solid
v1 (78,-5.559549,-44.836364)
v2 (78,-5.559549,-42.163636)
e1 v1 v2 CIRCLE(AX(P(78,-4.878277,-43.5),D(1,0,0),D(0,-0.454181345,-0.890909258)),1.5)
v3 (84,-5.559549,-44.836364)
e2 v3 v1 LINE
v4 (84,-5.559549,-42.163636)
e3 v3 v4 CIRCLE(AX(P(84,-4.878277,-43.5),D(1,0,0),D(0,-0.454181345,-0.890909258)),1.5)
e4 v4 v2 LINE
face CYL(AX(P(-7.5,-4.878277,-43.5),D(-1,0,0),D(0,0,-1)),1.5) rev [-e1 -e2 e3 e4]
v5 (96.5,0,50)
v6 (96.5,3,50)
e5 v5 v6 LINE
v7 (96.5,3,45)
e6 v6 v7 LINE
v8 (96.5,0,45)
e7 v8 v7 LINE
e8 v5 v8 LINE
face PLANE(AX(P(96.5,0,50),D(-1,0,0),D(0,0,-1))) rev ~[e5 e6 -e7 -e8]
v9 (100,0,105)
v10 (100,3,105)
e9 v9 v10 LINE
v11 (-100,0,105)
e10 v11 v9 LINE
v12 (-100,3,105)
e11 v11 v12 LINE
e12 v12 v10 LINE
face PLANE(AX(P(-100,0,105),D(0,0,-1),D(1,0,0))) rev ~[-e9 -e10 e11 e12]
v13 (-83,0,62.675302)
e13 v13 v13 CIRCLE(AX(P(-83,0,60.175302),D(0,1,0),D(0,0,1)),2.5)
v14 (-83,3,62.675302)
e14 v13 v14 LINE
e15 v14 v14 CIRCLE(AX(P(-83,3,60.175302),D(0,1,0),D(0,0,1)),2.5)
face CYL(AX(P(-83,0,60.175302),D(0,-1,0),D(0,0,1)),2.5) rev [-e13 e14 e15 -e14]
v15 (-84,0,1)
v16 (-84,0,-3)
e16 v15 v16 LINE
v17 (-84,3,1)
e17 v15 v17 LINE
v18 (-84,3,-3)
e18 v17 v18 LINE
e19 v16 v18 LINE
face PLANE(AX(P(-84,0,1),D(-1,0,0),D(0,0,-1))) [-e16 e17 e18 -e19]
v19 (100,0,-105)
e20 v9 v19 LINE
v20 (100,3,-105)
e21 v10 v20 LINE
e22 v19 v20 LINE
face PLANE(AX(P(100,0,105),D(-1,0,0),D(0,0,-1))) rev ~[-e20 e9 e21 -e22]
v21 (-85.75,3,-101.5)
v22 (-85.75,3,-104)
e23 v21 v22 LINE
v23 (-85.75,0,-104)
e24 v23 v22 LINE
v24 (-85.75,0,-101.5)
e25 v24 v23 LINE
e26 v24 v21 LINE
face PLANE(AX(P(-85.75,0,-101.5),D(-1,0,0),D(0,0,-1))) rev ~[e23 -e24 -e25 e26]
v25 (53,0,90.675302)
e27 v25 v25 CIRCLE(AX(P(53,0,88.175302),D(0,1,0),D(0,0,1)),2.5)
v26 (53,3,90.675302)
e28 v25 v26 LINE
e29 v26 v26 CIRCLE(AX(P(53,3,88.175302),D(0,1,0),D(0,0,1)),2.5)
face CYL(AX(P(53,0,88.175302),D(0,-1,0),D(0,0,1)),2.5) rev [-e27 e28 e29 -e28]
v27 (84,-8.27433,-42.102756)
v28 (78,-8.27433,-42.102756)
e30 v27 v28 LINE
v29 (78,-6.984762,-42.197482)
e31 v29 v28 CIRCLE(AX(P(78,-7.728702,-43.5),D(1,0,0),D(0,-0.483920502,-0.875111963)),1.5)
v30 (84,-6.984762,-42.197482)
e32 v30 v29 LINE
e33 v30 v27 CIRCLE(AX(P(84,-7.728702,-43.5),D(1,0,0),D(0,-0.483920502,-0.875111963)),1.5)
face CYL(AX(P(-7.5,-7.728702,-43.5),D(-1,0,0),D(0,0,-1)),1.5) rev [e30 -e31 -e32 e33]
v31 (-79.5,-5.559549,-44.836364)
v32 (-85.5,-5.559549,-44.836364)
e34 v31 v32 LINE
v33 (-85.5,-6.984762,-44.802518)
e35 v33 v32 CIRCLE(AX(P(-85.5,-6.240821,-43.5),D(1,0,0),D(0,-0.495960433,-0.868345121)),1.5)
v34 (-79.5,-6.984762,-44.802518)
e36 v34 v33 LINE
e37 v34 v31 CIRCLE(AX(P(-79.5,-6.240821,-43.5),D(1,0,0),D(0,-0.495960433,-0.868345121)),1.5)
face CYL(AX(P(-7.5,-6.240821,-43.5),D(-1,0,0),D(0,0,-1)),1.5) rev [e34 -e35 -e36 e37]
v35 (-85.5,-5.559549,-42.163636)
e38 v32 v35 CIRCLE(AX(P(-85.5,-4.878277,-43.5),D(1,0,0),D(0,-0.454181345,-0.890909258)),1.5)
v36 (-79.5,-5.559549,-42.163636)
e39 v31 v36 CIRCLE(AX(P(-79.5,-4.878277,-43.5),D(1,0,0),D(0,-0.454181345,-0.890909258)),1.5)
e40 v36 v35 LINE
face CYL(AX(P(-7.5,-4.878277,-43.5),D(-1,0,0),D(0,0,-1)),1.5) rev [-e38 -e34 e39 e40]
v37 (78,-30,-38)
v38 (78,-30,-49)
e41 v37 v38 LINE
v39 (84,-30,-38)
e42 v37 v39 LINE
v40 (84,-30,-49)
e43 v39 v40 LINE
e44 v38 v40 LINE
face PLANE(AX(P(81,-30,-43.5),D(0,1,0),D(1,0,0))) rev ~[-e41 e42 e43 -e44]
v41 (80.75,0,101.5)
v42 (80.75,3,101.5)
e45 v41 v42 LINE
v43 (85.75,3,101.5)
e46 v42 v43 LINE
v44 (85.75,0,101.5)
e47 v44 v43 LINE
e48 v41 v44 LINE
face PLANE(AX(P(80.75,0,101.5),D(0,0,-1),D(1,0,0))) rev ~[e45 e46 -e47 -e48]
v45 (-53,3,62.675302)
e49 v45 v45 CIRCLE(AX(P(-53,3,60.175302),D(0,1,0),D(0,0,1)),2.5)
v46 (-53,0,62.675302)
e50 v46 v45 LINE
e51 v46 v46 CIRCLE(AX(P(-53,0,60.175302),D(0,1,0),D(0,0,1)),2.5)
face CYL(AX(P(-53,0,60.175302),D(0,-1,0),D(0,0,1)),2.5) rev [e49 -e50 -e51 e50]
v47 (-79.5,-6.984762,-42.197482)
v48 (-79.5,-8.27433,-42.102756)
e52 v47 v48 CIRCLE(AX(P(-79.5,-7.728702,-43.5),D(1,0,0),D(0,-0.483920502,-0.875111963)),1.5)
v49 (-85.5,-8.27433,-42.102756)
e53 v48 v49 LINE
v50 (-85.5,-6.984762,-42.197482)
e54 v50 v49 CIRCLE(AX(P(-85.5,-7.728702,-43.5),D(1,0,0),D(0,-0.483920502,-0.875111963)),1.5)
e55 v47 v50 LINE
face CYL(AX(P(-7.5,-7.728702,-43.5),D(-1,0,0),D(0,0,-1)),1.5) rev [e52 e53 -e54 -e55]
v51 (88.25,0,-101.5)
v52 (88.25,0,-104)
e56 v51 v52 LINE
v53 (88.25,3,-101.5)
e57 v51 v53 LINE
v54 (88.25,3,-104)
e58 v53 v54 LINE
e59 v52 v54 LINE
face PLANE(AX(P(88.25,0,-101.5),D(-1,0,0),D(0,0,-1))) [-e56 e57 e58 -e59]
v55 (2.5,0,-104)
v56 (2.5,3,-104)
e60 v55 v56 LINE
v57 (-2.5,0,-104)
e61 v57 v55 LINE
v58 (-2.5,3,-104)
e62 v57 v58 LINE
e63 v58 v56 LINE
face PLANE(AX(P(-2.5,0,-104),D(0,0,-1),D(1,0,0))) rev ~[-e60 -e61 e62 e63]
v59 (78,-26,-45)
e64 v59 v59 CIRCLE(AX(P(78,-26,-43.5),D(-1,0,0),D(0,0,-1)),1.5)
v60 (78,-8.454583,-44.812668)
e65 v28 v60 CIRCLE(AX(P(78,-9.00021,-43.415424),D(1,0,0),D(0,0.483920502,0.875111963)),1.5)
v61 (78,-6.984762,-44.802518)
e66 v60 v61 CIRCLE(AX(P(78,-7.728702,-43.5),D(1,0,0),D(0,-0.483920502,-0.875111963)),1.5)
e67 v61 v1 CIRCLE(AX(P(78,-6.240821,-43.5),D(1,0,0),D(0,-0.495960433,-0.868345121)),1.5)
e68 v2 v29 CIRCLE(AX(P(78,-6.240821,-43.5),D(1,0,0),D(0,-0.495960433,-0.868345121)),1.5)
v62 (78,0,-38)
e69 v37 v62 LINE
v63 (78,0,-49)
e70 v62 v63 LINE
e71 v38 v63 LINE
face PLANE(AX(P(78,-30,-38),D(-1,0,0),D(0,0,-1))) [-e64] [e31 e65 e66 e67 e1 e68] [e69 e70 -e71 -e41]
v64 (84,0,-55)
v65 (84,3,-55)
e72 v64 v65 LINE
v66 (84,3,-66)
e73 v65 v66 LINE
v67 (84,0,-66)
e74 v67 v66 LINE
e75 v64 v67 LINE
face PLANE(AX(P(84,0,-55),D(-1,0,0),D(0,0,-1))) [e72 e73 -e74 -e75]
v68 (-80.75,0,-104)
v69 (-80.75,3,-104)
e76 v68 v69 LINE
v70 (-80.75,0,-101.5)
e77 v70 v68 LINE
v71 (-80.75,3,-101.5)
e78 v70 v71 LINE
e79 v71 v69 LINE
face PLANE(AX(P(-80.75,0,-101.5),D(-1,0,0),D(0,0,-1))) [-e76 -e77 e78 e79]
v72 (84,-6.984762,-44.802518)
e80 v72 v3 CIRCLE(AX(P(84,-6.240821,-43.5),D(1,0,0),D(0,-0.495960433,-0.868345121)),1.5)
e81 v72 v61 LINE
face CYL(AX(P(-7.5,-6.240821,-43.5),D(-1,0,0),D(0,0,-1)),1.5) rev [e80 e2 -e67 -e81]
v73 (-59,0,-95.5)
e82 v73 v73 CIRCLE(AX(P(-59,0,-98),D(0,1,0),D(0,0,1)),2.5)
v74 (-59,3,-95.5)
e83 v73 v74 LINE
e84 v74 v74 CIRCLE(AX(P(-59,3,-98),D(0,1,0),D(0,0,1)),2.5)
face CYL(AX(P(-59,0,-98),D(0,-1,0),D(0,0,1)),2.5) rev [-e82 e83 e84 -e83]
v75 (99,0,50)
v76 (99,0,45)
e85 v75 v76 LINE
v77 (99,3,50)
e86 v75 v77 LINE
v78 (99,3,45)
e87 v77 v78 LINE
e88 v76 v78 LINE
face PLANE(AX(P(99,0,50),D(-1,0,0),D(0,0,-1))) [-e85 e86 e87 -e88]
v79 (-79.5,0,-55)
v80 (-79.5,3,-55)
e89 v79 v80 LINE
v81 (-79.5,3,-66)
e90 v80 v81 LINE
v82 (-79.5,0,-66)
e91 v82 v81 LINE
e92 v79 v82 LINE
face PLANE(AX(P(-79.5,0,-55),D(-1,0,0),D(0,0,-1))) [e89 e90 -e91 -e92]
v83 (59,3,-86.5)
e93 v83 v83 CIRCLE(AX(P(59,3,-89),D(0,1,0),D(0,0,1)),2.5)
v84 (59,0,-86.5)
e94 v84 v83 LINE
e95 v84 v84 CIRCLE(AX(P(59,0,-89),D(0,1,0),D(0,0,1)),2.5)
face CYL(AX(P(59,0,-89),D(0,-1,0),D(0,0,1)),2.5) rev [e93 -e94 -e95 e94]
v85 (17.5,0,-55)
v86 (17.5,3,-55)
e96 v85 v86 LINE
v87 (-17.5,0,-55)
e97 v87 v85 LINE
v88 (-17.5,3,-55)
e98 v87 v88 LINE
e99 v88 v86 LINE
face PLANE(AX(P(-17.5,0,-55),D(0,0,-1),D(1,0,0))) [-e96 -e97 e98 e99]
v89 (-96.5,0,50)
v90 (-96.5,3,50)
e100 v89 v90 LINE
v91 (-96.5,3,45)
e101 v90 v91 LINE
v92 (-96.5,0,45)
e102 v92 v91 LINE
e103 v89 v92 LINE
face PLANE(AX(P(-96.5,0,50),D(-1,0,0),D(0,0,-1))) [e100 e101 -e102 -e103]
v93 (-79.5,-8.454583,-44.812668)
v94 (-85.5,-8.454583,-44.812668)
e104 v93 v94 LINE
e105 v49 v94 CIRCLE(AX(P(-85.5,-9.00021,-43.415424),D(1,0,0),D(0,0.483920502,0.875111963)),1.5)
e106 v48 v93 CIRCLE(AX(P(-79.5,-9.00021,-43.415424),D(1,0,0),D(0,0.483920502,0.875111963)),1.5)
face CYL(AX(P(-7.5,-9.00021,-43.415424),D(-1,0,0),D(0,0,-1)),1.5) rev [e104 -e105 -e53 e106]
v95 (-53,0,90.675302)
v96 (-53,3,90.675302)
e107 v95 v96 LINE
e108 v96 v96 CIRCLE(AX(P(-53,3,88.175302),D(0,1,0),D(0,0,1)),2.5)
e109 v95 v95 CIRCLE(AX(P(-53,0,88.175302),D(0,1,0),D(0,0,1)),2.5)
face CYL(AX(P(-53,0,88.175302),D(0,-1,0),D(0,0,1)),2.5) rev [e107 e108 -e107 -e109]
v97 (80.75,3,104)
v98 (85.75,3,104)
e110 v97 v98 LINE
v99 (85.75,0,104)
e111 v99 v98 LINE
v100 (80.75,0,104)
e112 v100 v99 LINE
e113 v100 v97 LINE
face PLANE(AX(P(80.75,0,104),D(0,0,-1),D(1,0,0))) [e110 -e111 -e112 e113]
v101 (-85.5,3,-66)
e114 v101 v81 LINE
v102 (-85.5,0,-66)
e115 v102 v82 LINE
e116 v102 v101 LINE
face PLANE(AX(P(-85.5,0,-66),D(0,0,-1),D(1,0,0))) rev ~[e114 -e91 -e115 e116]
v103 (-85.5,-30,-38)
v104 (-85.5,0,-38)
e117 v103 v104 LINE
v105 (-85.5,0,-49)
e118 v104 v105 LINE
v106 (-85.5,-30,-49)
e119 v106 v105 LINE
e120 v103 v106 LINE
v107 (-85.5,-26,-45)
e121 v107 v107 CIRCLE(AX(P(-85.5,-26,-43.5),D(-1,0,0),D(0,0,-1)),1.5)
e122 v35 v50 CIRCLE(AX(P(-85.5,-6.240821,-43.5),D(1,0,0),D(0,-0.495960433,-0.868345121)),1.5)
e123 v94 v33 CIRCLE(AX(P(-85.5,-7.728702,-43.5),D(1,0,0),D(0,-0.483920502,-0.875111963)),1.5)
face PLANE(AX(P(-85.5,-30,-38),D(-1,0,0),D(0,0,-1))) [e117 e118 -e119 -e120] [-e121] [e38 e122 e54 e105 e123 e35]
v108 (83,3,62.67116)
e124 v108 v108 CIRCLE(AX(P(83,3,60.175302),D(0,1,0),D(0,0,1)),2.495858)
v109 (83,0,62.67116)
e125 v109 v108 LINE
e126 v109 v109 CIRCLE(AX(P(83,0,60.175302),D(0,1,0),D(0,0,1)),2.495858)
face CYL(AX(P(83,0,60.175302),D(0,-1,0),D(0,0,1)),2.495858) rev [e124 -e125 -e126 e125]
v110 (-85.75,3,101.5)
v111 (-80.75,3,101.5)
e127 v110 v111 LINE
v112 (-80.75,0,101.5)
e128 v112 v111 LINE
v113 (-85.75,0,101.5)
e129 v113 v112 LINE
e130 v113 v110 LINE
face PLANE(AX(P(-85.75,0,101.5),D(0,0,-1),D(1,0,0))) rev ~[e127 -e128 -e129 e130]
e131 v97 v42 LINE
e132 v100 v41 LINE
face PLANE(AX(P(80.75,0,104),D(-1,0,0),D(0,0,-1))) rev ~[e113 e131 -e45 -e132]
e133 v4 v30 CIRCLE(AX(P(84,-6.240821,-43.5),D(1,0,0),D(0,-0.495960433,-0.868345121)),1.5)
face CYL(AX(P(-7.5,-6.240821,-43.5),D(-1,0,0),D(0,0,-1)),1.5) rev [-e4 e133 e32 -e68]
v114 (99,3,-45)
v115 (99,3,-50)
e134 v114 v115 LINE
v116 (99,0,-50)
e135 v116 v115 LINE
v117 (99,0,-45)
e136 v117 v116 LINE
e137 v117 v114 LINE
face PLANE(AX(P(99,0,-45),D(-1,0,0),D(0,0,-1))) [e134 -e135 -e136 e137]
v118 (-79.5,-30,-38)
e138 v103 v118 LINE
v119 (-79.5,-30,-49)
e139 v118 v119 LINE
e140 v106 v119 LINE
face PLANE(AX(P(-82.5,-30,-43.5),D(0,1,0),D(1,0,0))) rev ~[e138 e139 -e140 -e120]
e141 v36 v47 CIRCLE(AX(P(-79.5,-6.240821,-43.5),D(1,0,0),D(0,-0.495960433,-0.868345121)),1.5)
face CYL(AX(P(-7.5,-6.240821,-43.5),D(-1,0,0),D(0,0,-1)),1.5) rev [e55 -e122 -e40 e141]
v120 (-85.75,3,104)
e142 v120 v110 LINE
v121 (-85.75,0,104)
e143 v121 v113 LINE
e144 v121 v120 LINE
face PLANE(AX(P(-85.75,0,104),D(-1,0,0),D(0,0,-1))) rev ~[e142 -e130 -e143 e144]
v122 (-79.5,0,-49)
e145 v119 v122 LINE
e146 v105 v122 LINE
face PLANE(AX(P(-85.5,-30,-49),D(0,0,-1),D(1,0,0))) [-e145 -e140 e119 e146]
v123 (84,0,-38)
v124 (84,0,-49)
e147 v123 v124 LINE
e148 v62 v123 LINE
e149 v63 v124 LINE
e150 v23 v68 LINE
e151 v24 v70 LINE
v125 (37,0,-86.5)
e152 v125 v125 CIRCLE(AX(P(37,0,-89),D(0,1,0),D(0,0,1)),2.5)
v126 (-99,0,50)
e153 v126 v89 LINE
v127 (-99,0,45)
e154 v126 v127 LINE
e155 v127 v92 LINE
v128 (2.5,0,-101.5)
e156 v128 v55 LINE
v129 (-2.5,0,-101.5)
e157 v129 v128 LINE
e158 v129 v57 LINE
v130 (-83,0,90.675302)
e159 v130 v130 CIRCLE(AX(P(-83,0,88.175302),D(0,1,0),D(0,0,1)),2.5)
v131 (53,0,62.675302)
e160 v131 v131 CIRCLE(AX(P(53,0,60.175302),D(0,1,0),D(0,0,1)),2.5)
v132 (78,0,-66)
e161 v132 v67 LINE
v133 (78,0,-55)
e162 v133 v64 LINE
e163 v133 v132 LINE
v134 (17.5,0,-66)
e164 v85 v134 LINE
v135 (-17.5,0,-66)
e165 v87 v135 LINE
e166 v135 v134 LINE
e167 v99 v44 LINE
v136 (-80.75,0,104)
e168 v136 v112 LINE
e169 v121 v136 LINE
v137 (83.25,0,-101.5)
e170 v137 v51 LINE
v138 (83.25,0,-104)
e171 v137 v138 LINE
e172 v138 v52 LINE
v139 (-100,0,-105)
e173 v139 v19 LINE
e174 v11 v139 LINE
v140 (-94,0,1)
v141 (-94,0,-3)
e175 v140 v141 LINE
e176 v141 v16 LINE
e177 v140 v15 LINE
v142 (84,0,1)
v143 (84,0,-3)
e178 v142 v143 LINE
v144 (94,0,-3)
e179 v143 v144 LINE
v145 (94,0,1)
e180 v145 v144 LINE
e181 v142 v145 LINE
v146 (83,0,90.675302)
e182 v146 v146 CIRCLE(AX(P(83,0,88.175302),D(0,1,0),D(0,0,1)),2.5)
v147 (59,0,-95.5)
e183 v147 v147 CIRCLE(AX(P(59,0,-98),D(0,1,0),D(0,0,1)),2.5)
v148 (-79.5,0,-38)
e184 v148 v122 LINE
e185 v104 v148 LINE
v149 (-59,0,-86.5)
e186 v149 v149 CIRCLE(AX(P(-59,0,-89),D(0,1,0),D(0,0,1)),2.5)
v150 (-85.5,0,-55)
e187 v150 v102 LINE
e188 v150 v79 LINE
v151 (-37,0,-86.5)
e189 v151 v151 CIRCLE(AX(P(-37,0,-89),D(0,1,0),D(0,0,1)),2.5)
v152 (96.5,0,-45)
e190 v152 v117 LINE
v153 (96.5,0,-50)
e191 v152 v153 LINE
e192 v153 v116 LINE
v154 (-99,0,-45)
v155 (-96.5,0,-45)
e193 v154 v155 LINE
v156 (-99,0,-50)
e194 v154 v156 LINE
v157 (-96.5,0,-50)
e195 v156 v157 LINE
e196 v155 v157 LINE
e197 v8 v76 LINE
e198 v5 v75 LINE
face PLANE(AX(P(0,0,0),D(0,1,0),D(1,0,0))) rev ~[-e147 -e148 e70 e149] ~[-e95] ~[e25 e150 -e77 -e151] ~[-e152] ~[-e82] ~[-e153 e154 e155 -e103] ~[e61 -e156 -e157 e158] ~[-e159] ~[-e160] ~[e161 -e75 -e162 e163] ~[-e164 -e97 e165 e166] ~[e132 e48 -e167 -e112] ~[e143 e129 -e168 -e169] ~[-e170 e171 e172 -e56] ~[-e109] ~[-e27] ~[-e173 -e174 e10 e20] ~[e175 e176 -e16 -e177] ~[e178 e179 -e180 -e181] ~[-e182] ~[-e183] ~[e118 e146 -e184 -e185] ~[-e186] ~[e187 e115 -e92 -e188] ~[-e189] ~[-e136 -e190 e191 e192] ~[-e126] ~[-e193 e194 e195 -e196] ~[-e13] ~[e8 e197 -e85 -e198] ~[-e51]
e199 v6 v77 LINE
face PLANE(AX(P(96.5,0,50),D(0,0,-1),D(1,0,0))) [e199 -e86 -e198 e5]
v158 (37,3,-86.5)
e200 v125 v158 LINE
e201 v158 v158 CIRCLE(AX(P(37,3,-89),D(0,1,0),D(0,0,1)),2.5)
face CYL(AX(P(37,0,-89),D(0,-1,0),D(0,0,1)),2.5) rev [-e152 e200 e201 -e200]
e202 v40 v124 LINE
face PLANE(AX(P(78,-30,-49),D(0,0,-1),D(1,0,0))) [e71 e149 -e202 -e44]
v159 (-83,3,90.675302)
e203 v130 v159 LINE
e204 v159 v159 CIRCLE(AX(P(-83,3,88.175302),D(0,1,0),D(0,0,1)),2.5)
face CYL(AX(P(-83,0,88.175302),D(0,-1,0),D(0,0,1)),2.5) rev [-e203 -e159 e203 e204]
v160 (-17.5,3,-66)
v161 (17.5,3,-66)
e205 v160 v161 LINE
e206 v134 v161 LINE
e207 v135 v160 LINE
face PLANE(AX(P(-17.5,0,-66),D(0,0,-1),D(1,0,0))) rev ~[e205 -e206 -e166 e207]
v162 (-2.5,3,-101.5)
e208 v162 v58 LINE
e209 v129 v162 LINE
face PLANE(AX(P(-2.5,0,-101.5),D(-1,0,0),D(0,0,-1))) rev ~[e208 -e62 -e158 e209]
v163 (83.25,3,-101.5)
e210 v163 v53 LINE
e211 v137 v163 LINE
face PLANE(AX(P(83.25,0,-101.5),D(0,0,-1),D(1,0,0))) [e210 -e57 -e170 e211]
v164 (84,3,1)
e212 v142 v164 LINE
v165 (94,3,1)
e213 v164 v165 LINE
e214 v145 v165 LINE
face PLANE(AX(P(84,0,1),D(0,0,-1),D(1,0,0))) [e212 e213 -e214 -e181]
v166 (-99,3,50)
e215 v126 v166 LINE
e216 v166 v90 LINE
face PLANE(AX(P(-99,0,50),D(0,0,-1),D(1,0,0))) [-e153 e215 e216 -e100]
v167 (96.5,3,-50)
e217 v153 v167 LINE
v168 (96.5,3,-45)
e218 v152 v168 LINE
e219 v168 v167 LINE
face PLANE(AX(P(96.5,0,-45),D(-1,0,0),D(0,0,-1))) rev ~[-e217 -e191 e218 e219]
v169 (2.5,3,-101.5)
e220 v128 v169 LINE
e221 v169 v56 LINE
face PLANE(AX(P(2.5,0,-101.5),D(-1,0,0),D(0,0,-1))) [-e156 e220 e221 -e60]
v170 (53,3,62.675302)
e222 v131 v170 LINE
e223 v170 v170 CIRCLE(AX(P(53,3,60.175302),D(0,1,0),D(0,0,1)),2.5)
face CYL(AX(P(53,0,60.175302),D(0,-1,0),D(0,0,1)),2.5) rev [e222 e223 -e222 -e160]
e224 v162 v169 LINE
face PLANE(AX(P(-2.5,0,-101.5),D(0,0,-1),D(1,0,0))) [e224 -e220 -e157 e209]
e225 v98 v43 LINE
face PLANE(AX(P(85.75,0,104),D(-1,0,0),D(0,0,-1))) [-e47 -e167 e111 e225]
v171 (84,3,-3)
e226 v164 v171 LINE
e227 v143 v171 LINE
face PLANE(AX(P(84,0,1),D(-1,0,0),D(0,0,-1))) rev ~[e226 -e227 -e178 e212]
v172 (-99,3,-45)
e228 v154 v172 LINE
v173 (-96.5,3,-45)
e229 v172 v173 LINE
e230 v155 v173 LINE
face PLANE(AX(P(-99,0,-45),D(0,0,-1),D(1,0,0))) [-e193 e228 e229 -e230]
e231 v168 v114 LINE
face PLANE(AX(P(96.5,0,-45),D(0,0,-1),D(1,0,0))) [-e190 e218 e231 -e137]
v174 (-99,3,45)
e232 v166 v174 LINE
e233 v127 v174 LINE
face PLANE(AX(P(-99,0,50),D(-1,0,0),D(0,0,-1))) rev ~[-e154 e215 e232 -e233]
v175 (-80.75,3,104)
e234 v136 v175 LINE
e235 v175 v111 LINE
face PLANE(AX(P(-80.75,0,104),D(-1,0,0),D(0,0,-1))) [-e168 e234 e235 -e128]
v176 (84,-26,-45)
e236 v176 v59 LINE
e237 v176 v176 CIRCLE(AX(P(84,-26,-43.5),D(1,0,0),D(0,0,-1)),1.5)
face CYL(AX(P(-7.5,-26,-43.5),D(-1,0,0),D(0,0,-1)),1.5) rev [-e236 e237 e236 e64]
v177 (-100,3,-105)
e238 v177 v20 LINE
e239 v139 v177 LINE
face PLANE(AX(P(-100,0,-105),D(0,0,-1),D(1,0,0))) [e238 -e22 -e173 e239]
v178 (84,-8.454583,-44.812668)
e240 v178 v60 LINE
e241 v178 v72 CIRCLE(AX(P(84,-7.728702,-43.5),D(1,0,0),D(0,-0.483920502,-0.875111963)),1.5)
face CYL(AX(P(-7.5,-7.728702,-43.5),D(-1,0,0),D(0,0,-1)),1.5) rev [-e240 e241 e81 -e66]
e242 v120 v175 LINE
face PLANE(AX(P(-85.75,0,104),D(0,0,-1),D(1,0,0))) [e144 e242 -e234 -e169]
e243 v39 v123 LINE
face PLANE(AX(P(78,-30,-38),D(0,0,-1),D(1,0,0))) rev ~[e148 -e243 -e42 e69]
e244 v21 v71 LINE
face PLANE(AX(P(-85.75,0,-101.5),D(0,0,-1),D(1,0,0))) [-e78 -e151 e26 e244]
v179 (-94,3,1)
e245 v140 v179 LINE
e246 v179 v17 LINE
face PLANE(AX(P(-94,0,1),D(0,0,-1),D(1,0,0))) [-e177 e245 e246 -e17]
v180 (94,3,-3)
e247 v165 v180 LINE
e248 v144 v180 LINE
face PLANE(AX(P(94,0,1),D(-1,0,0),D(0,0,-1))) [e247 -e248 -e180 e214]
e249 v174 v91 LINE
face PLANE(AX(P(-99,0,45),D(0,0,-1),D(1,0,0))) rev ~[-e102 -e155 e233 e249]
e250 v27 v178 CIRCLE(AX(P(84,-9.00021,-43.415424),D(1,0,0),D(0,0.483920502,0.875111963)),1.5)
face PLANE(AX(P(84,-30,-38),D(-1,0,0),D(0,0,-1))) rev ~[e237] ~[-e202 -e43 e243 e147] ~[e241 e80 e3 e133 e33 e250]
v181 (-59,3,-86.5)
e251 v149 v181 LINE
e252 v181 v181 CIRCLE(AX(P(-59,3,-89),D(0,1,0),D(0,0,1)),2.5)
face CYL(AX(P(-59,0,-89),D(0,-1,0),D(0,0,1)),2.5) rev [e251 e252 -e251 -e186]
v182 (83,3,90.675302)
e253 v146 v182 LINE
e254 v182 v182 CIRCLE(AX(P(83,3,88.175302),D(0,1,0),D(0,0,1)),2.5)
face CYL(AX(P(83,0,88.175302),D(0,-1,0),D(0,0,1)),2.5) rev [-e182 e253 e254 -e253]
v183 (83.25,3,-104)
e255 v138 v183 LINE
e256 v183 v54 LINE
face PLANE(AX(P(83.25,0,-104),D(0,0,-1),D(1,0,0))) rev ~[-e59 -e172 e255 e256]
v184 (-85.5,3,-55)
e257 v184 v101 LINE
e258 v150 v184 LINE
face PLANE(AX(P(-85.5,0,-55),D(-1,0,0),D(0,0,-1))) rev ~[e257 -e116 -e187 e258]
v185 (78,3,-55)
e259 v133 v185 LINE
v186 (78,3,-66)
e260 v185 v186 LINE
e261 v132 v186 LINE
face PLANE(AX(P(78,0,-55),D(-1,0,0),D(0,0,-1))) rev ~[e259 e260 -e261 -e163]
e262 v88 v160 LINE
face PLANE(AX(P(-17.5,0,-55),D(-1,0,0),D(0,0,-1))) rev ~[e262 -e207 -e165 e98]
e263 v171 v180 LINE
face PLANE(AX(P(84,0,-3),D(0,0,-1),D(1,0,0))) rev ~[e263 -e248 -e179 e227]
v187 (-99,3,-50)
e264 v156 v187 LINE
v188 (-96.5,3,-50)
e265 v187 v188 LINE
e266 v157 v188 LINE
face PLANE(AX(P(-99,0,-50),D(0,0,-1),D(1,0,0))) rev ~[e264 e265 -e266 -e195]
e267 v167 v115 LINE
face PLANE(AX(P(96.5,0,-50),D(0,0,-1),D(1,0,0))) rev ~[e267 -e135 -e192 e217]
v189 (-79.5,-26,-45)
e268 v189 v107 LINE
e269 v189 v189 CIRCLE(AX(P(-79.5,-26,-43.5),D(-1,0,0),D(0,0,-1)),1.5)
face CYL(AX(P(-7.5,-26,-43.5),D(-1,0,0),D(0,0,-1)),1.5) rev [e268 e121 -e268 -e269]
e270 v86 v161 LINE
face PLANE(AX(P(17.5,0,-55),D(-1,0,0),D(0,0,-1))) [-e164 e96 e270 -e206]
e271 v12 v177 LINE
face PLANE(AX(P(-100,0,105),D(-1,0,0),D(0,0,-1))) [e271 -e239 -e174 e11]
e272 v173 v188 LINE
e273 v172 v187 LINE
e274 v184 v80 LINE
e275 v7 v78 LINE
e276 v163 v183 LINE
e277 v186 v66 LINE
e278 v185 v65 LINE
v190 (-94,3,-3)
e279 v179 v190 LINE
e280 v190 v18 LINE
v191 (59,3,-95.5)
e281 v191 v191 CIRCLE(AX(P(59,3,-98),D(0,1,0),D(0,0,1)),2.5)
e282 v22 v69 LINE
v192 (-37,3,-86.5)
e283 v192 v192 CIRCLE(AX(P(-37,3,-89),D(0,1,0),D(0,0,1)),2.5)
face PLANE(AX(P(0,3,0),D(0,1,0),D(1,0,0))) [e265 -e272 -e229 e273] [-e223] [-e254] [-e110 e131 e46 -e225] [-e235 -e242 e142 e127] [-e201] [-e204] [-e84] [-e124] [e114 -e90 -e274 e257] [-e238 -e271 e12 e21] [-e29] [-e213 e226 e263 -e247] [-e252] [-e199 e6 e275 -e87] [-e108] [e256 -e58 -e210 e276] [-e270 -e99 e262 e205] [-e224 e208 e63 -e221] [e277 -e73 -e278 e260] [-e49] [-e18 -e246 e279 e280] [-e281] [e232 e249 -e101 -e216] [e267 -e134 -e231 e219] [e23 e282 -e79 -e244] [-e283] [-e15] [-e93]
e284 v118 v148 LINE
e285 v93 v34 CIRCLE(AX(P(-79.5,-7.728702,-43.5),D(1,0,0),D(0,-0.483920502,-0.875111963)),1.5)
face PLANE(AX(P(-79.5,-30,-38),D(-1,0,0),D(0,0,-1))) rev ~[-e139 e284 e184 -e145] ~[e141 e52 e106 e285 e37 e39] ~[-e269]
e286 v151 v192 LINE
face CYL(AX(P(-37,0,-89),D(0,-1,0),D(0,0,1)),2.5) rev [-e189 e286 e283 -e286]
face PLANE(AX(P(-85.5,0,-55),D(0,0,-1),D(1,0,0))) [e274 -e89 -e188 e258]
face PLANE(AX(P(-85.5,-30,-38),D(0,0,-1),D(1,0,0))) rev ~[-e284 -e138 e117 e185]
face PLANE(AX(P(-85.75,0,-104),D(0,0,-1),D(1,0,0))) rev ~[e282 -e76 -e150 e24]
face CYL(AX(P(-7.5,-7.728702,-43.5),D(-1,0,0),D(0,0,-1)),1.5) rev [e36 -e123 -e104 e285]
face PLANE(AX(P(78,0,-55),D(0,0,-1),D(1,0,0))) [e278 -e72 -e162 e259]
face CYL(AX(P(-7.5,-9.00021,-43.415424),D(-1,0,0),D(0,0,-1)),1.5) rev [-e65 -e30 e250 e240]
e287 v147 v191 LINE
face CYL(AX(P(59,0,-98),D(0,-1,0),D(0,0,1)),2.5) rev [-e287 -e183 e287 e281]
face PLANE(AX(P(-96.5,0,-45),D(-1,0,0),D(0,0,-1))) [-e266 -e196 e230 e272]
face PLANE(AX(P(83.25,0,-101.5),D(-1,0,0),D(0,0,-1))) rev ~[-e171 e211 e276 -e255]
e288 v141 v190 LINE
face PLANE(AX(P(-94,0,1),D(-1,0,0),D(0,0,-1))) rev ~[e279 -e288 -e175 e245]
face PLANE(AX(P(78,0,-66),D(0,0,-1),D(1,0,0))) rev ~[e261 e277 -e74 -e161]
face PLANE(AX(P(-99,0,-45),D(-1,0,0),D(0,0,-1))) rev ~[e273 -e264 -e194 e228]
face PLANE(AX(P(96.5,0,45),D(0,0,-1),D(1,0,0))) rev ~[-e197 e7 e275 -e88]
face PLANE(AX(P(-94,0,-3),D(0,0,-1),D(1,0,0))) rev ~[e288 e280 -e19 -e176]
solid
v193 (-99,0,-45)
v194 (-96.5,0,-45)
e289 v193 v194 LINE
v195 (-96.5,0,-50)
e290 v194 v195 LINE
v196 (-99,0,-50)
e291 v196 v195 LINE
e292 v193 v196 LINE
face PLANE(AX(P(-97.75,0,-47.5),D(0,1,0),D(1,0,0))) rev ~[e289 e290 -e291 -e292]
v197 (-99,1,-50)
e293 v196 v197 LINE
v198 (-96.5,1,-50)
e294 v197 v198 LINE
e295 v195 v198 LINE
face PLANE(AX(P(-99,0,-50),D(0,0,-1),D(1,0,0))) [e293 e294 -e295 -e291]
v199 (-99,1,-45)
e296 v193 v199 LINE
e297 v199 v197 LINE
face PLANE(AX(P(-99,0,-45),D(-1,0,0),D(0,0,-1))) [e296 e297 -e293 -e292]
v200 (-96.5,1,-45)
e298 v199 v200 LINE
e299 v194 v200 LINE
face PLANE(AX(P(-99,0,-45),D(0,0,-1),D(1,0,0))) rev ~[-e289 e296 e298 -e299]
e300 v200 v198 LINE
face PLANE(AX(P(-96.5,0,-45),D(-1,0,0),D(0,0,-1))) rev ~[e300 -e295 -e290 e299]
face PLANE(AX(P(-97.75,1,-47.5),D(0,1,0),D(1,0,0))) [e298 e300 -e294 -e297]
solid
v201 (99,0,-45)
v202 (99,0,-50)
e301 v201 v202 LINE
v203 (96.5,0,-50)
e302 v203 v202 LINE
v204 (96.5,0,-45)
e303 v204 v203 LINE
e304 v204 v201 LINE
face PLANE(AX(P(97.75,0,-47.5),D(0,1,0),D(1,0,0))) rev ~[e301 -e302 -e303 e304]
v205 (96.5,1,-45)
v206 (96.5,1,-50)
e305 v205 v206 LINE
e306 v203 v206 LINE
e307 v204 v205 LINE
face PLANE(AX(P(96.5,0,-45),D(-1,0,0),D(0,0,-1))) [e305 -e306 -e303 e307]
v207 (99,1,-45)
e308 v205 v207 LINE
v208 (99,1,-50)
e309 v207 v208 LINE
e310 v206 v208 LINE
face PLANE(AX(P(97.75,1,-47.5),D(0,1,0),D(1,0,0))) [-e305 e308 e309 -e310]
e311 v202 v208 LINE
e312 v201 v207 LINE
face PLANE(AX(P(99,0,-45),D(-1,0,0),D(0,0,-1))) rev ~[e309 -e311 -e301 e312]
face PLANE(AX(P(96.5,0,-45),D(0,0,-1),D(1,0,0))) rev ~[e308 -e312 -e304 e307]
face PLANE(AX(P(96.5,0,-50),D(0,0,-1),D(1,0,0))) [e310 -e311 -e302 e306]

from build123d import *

# Parameters (mm, degrees)
SKETCH1_W              = 2.5
SKETCH1_H              = 5
MAINBODY_DEPTH         = 1
MAINBODY_2_DEPTH       = 1
SAYAPRODA_DEPTH        = 3
SAYAPRODA_DEPTH_BACK   = 30
SKETCH1_4_W            = 6
SKETCH1_4_H            = 11
SAYAPRODA_2_DEPTH      = 3
SAYAPRODA_2_DEPTH_BACK = 30
SKETCH9_W              = 1.5
SKETCH9_H              = 183
HOLE1_AT_2_COUNT       = 2
HOLE1_AT_2_PITCH       = 17
HOLE1_AT_3_COUNT       = 2
HOLE1_AT_3_PITCH       = 18.271297686
HOLE1_AT_4_COUNT       = 2
HOLE1_AT_4_PITCH       = 19.759178985
HOLE1_AT_5_COUNT       = 2
HOLE1_AT_5_PITCH       = 21.121723019
SKETCH1_7_W            = 200
SKETCH1_7_H            = 210
SKETCH1_7_R            = 2.5
SKETCH1_7_R_2          = 2.49585759
SKETCH1_7_W_2          = 10
SKETCH1_7_H_2          = 4
SKETCH1_7_W_3          = 6
SKETCH1_7_H_3          = 11
SKETCH1_7_W_4          = 5
SKETCH1_7_H_4          = 2.5
SKETCH1_7_W_5          = 2.5
SKETCH1_7_H_5          = 5
SKETCH1_7_W_6          = 35
BOSS_EXTRUDE1_DEPTH    = 3


with BuildPart() as part:
    # Sketch1 → MainBody (new body)
    with BuildSketch(Plane(origin=(0, 0, 0), x_dir=(1, 0, 0), z_dir=(0, 1, 0))):
        with Locations((97.75, 47.5)):
            Rectangle(SKETCH1_W, SKETCH1_H)
    extrude(amount=MAINBODY_DEPTH)


with BuildPart() as body_2:
    # Sketch1 → MainBody 2 (new body)
    with BuildSketch(Plane(origin=(0, 0, 0), x_dir=(1, 0, 0), z_dir=(0, 1, 0))):
        with Locations((-97.75, 47.5)):
            Rectangle(SKETCH1_W, SKETCH1_H)
    extrude(amount=MAINBODY_2_DEPTH)


with BuildPart() as body_3:
    # Sketch1<4> → SayapRoda (new, two sides: drawn at the far end of the back side and taken through both)
    with BuildSketch(Plane(origin=(0, 0, 0), x_dir=(1, 0, 0), z_dir=(0, 1, 0)).offset(-SAYAPRODA_DEPTH_BACK)):
        with Locations((-82.5, 43.5)):
            Rectangle(SKETCH1_4_W, SKETCH1_4_H)
    extrude(amount=SAYAPRODA_DEPTH + SAYAPRODA_DEPTH_BACK)


with BuildPart() as body_4:
    # Sketch1<4> → SayapRoda 2 (new, two sides: drawn at the far end of the back side and taken through both)
    with BuildSketch(Plane(origin=(0, 0, 0), x_dir=(1, 0, 0), z_dir=(0, 1, 0)).offset(-SAYAPRODA_2_DEPTH_BACK)):
        with Locations((81, 43.5)):
            Rectangle(SKETCH1_4_W, SKETCH1_4_H)
    extrude(amount=SAYAPRODA_2_DEPTH + SAYAPRODA_2_DEPTH_BACK)


with BuildPart() as hole1_tool:
    # Sketch9 → Hole1 (revolve)
    with BuildSketch(Plane(origin=(84, -26, -43.5), x_dir=(0, 0, -1), z_dir=(0, 1, 0))):
        with Locations((0.75, 91.5)):
            Rectangle(SKETCH9_W, SKETCH9_H)
    hole1 = revolve(axis=Axis((-26, -26, -43.5), (1, 0, 0)))


with BuildPart() as body_3_1:
    add(body_3.part)

    # Hole1: cut by hole1_tool
    add(hole1_tool.part, mode=Mode.SUBTRACT)


with BuildPart() as body_4_1:
    add(body_4.part)

    # Hole1: cut by hole1_tool
    add(hole1_tool.part, mode=Mode.SUBTRACT)


with BuildPart() as hole1_at_2_tool:
    # Hole1 at 2: Hole1 ×2
    with Locations(*[Vector(0, 0.999987624298452, 0.004975062807455084) * (i * HOLE1_AT_2_PITCH) for i in range(1, HOLE1_AT_2_COUNT)]):
        add(hole1)


with BuildPart() as body_3_2:
    add(body_3_1.part)

    # Hole1 at 2: cut by hole1_at_2_tool
    add(hole1_at_2_tool.part, mode=Mode.SUBTRACT)


with BuildPart() as body_4_2:
    add(body_4_1.part)

    # Hole1 at 2: cut by hole1_at_2_tool
    add(hole1_at_2_tool.part, mode=Mode.SUBTRACT)


with BuildPart() as hole1_at_3_tool:
    # Hole1 at 3: Hole1 ×2
    with Locations(*[(0, i * HOLE1_AT_3_PITCH, 0) for i in range(1, HOLE1_AT_3_COUNT)]):
        add(hole1)


with BuildPart() as body_3_3:
    add(body_3_2.part)

    # Hole1 at 3: cut by hole1_at_3_tool
    add(hole1_at_3_tool.part, mode=Mode.SUBTRACT)


with BuildPart() as body_4_3:
    add(body_4_2.part)

    # Hole1 at 3: cut by hole1_at_3_tool
    add(hole1_at_3_tool.part, mode=Mode.SUBTRACT)


with BuildPart() as hole1_at_4_tool:
    # Hole1 at 4: Hole1 ×2
    with Locations(*[(0, i * HOLE1_AT_4_PITCH, 0) for i in range(1, HOLE1_AT_4_COUNT)]):
        add(hole1)


with BuildPart() as body_3_4:
    add(body_3_3.part)

    # Hole1 at 4: cut by hole1_at_4_tool
    add(hole1_at_4_tool.part, mode=Mode.SUBTRACT)


with BuildPart() as body_4_4:
    add(body_4_3.part)

    # Hole1 at 4: cut by hole1_at_4_tool
    add(hole1_at_4_tool.part, mode=Mode.SUBTRACT)


with BuildPart() as hole1_at_5_tool:
    # Hole1 at 5: Hole1 ×2
    with Locations(*[(0, i * HOLE1_AT_5_PITCH, 0) for i in range(1, HOLE1_AT_5_COUNT)]):
        add(hole1)


with BuildPart() as body_3_5:
    add(body_3_4.part)

    # Hole1 at 5: cut by hole1_at_5_tool
    add(hole1_at_5_tool.part, mode=Mode.SUBTRACT)



with BuildPart() as body_4_5:
    add(body_4_4.part)

    # Hole1 at 5: cut by hole1_at_5_tool
    add(hole1_at_5_tool.part, mode=Mode.SUBTRACT)


with BuildPart() as body_3_6:
    add(body_3_5.part)

    add(body_4_5.part)  # Boss-Extrude1 merges body 4
    # Sketch1<7> → Boss-Extrude1 (add)
    with BuildSketch(Plane(origin=(0, 0, 0), x_dir=(1, 0, 0), z_dir=(0, 1, 0))):
        Rectangle(SKETCH1_7_W, SKETCH1_7_H)
        with Locations((-59, 98)):
            Circle(SKETCH1_7_R, mode=Mode.SUBTRACT)
        with Locations((-59, 89)):
            Circle(SKETCH1_7_R, mode=Mode.SUBTRACT)
        with Locations((-37, 89)):
            Circle(SKETCH1_7_R, mode=Mode.SUBTRACT)
        with Locations((59, 98)):
            Circle(SKETCH1_7_R, mode=Mode.SUBTRACT)
        with Locations((59, 89)):
            Circle(SKETCH1_7_R, mode=Mode.SUBTRACT)
        with Locations((37, 89)):
            Circle(SKETCH1_7_R, mode=Mode.SUBTRACT)
        with Locations((83, -88.17530204)):
            Circle(SKETCH1_7_R, mode=Mode.SUBTRACT)
        with Locations((83, -60.17530204)):
            Circle(SKETCH1_7_R_2, mode=Mode.SUBTRACT)
        with Locations((53, -88.17530204)):
            Circle(SKETCH1_7_R, mode=Mode.SUBTRACT)
        with Locations((53, -60.17530204)):
            Circle(SKETCH1_7_R, mode=Mode.SUBTRACT)
        with Locations((-83, -88.17530204)):
            Circle(SKETCH1_7_R, mode=Mode.SUBTRACT)
        with Locations((-53, -88.17530204)):
            Circle(SKETCH1_7_R, mode=Mode.SUBTRACT)
        with Locations((-53, -60.17530204)):
            Circle(SKETCH1_7_R, mode=Mode.SUBTRACT)
        with Locations((-83, -60.17530204)):
            Circle(SKETCH1_7_R, mode=Mode.SUBTRACT)
        with Locations((89, 1)):
            Rectangle(SKETCH1_7_W_2, SKETCH1_7_H_2, mode=Mode.SUBTRACT)
        with Locations((-89, 1)):
            Rectangle(SKETCH1_7_W_2, SKETCH1_7_H_2, mode=Mode.SUBTRACT)
        with Locations((-82.5, 43.5)):
            Rectangle(SKETCH1_7_W_3, SKETCH1_7_H_3, mode=Mode.SUBTRACT)
        with Locations((81, 43.5)):
            Rectangle(SKETCH1_7_W_3, SKETCH1_7_H_3, mode=Mode.SUBTRACT)
        with Locations((83.25, -102.75)):
            Rectangle(SKETCH1_7_W_4, SKETCH1_7_H_4, mode=Mode.SUBTRACT)
        with Locations((0, 102.75)):
            Rectangle(SKETCH1_7_W_4, SKETCH1_7_H_4, mode=Mode.SUBTRACT)
        with Locations((-83.25, -102.75)):
            Rectangle(SKETCH1_7_W_4, SKETCH1_7_H_4, mode=Mode.SUBTRACT)
        with Locations((-83.25, 102.75)):
            Rectangle(SKETCH1_7_W_4, SKETCH1_7_H_4, mode=Mode.SUBTRACT)
        with Locations((85.75, 102.75)):
            Rectangle(SKETCH1_7_W_4, SKETCH1_7_H_4, mode=Mode.SUBTRACT)
        with Locations((97.75, -47.5)):
            Rectangle(SKETCH1_7_W_5, SKETCH1_7_H_5, mode=Mode.SUBTRACT)
        with Locations((97.75, 47.5)):
            Rectangle(SKETCH1_7_W_5, SKETCH1_7_H_5, mode=Mode.SUBTRACT)
        with Locations((-97.75, -47.5)):
            Rectangle(SKETCH1_7_W_5, SKETCH1_7_H_5, mode=Mode.SUBTRACT)
        with Locations((-97.75, 47.5)):
            Rectangle(SKETCH1_7_W_5, SKETCH1_7_H_5, mode=Mode.SUBTRACT)
        with Locations((81, 60.5)):
            Rectangle(SKETCH1_7_W_3, SKETCH1_7_H_3, mode=Mode.SUBTRACT)
        with Locations((-82.5, 60.5)):
            Rectangle(SKETCH1_7_W_3, SKETCH1_7_H_3, mode=Mode.SUBTRACT)
        with Locations((0, 60.5)):
            Rectangle(SKETCH1_7_W_6, SKETCH1_7_H_3, mode=Mode.SUBTRACT)
    extrude(amount=BOSS_EXTRUDE1_DEPTH)


solid = Compound([part.part, body_2.part, body_3_6.part])
